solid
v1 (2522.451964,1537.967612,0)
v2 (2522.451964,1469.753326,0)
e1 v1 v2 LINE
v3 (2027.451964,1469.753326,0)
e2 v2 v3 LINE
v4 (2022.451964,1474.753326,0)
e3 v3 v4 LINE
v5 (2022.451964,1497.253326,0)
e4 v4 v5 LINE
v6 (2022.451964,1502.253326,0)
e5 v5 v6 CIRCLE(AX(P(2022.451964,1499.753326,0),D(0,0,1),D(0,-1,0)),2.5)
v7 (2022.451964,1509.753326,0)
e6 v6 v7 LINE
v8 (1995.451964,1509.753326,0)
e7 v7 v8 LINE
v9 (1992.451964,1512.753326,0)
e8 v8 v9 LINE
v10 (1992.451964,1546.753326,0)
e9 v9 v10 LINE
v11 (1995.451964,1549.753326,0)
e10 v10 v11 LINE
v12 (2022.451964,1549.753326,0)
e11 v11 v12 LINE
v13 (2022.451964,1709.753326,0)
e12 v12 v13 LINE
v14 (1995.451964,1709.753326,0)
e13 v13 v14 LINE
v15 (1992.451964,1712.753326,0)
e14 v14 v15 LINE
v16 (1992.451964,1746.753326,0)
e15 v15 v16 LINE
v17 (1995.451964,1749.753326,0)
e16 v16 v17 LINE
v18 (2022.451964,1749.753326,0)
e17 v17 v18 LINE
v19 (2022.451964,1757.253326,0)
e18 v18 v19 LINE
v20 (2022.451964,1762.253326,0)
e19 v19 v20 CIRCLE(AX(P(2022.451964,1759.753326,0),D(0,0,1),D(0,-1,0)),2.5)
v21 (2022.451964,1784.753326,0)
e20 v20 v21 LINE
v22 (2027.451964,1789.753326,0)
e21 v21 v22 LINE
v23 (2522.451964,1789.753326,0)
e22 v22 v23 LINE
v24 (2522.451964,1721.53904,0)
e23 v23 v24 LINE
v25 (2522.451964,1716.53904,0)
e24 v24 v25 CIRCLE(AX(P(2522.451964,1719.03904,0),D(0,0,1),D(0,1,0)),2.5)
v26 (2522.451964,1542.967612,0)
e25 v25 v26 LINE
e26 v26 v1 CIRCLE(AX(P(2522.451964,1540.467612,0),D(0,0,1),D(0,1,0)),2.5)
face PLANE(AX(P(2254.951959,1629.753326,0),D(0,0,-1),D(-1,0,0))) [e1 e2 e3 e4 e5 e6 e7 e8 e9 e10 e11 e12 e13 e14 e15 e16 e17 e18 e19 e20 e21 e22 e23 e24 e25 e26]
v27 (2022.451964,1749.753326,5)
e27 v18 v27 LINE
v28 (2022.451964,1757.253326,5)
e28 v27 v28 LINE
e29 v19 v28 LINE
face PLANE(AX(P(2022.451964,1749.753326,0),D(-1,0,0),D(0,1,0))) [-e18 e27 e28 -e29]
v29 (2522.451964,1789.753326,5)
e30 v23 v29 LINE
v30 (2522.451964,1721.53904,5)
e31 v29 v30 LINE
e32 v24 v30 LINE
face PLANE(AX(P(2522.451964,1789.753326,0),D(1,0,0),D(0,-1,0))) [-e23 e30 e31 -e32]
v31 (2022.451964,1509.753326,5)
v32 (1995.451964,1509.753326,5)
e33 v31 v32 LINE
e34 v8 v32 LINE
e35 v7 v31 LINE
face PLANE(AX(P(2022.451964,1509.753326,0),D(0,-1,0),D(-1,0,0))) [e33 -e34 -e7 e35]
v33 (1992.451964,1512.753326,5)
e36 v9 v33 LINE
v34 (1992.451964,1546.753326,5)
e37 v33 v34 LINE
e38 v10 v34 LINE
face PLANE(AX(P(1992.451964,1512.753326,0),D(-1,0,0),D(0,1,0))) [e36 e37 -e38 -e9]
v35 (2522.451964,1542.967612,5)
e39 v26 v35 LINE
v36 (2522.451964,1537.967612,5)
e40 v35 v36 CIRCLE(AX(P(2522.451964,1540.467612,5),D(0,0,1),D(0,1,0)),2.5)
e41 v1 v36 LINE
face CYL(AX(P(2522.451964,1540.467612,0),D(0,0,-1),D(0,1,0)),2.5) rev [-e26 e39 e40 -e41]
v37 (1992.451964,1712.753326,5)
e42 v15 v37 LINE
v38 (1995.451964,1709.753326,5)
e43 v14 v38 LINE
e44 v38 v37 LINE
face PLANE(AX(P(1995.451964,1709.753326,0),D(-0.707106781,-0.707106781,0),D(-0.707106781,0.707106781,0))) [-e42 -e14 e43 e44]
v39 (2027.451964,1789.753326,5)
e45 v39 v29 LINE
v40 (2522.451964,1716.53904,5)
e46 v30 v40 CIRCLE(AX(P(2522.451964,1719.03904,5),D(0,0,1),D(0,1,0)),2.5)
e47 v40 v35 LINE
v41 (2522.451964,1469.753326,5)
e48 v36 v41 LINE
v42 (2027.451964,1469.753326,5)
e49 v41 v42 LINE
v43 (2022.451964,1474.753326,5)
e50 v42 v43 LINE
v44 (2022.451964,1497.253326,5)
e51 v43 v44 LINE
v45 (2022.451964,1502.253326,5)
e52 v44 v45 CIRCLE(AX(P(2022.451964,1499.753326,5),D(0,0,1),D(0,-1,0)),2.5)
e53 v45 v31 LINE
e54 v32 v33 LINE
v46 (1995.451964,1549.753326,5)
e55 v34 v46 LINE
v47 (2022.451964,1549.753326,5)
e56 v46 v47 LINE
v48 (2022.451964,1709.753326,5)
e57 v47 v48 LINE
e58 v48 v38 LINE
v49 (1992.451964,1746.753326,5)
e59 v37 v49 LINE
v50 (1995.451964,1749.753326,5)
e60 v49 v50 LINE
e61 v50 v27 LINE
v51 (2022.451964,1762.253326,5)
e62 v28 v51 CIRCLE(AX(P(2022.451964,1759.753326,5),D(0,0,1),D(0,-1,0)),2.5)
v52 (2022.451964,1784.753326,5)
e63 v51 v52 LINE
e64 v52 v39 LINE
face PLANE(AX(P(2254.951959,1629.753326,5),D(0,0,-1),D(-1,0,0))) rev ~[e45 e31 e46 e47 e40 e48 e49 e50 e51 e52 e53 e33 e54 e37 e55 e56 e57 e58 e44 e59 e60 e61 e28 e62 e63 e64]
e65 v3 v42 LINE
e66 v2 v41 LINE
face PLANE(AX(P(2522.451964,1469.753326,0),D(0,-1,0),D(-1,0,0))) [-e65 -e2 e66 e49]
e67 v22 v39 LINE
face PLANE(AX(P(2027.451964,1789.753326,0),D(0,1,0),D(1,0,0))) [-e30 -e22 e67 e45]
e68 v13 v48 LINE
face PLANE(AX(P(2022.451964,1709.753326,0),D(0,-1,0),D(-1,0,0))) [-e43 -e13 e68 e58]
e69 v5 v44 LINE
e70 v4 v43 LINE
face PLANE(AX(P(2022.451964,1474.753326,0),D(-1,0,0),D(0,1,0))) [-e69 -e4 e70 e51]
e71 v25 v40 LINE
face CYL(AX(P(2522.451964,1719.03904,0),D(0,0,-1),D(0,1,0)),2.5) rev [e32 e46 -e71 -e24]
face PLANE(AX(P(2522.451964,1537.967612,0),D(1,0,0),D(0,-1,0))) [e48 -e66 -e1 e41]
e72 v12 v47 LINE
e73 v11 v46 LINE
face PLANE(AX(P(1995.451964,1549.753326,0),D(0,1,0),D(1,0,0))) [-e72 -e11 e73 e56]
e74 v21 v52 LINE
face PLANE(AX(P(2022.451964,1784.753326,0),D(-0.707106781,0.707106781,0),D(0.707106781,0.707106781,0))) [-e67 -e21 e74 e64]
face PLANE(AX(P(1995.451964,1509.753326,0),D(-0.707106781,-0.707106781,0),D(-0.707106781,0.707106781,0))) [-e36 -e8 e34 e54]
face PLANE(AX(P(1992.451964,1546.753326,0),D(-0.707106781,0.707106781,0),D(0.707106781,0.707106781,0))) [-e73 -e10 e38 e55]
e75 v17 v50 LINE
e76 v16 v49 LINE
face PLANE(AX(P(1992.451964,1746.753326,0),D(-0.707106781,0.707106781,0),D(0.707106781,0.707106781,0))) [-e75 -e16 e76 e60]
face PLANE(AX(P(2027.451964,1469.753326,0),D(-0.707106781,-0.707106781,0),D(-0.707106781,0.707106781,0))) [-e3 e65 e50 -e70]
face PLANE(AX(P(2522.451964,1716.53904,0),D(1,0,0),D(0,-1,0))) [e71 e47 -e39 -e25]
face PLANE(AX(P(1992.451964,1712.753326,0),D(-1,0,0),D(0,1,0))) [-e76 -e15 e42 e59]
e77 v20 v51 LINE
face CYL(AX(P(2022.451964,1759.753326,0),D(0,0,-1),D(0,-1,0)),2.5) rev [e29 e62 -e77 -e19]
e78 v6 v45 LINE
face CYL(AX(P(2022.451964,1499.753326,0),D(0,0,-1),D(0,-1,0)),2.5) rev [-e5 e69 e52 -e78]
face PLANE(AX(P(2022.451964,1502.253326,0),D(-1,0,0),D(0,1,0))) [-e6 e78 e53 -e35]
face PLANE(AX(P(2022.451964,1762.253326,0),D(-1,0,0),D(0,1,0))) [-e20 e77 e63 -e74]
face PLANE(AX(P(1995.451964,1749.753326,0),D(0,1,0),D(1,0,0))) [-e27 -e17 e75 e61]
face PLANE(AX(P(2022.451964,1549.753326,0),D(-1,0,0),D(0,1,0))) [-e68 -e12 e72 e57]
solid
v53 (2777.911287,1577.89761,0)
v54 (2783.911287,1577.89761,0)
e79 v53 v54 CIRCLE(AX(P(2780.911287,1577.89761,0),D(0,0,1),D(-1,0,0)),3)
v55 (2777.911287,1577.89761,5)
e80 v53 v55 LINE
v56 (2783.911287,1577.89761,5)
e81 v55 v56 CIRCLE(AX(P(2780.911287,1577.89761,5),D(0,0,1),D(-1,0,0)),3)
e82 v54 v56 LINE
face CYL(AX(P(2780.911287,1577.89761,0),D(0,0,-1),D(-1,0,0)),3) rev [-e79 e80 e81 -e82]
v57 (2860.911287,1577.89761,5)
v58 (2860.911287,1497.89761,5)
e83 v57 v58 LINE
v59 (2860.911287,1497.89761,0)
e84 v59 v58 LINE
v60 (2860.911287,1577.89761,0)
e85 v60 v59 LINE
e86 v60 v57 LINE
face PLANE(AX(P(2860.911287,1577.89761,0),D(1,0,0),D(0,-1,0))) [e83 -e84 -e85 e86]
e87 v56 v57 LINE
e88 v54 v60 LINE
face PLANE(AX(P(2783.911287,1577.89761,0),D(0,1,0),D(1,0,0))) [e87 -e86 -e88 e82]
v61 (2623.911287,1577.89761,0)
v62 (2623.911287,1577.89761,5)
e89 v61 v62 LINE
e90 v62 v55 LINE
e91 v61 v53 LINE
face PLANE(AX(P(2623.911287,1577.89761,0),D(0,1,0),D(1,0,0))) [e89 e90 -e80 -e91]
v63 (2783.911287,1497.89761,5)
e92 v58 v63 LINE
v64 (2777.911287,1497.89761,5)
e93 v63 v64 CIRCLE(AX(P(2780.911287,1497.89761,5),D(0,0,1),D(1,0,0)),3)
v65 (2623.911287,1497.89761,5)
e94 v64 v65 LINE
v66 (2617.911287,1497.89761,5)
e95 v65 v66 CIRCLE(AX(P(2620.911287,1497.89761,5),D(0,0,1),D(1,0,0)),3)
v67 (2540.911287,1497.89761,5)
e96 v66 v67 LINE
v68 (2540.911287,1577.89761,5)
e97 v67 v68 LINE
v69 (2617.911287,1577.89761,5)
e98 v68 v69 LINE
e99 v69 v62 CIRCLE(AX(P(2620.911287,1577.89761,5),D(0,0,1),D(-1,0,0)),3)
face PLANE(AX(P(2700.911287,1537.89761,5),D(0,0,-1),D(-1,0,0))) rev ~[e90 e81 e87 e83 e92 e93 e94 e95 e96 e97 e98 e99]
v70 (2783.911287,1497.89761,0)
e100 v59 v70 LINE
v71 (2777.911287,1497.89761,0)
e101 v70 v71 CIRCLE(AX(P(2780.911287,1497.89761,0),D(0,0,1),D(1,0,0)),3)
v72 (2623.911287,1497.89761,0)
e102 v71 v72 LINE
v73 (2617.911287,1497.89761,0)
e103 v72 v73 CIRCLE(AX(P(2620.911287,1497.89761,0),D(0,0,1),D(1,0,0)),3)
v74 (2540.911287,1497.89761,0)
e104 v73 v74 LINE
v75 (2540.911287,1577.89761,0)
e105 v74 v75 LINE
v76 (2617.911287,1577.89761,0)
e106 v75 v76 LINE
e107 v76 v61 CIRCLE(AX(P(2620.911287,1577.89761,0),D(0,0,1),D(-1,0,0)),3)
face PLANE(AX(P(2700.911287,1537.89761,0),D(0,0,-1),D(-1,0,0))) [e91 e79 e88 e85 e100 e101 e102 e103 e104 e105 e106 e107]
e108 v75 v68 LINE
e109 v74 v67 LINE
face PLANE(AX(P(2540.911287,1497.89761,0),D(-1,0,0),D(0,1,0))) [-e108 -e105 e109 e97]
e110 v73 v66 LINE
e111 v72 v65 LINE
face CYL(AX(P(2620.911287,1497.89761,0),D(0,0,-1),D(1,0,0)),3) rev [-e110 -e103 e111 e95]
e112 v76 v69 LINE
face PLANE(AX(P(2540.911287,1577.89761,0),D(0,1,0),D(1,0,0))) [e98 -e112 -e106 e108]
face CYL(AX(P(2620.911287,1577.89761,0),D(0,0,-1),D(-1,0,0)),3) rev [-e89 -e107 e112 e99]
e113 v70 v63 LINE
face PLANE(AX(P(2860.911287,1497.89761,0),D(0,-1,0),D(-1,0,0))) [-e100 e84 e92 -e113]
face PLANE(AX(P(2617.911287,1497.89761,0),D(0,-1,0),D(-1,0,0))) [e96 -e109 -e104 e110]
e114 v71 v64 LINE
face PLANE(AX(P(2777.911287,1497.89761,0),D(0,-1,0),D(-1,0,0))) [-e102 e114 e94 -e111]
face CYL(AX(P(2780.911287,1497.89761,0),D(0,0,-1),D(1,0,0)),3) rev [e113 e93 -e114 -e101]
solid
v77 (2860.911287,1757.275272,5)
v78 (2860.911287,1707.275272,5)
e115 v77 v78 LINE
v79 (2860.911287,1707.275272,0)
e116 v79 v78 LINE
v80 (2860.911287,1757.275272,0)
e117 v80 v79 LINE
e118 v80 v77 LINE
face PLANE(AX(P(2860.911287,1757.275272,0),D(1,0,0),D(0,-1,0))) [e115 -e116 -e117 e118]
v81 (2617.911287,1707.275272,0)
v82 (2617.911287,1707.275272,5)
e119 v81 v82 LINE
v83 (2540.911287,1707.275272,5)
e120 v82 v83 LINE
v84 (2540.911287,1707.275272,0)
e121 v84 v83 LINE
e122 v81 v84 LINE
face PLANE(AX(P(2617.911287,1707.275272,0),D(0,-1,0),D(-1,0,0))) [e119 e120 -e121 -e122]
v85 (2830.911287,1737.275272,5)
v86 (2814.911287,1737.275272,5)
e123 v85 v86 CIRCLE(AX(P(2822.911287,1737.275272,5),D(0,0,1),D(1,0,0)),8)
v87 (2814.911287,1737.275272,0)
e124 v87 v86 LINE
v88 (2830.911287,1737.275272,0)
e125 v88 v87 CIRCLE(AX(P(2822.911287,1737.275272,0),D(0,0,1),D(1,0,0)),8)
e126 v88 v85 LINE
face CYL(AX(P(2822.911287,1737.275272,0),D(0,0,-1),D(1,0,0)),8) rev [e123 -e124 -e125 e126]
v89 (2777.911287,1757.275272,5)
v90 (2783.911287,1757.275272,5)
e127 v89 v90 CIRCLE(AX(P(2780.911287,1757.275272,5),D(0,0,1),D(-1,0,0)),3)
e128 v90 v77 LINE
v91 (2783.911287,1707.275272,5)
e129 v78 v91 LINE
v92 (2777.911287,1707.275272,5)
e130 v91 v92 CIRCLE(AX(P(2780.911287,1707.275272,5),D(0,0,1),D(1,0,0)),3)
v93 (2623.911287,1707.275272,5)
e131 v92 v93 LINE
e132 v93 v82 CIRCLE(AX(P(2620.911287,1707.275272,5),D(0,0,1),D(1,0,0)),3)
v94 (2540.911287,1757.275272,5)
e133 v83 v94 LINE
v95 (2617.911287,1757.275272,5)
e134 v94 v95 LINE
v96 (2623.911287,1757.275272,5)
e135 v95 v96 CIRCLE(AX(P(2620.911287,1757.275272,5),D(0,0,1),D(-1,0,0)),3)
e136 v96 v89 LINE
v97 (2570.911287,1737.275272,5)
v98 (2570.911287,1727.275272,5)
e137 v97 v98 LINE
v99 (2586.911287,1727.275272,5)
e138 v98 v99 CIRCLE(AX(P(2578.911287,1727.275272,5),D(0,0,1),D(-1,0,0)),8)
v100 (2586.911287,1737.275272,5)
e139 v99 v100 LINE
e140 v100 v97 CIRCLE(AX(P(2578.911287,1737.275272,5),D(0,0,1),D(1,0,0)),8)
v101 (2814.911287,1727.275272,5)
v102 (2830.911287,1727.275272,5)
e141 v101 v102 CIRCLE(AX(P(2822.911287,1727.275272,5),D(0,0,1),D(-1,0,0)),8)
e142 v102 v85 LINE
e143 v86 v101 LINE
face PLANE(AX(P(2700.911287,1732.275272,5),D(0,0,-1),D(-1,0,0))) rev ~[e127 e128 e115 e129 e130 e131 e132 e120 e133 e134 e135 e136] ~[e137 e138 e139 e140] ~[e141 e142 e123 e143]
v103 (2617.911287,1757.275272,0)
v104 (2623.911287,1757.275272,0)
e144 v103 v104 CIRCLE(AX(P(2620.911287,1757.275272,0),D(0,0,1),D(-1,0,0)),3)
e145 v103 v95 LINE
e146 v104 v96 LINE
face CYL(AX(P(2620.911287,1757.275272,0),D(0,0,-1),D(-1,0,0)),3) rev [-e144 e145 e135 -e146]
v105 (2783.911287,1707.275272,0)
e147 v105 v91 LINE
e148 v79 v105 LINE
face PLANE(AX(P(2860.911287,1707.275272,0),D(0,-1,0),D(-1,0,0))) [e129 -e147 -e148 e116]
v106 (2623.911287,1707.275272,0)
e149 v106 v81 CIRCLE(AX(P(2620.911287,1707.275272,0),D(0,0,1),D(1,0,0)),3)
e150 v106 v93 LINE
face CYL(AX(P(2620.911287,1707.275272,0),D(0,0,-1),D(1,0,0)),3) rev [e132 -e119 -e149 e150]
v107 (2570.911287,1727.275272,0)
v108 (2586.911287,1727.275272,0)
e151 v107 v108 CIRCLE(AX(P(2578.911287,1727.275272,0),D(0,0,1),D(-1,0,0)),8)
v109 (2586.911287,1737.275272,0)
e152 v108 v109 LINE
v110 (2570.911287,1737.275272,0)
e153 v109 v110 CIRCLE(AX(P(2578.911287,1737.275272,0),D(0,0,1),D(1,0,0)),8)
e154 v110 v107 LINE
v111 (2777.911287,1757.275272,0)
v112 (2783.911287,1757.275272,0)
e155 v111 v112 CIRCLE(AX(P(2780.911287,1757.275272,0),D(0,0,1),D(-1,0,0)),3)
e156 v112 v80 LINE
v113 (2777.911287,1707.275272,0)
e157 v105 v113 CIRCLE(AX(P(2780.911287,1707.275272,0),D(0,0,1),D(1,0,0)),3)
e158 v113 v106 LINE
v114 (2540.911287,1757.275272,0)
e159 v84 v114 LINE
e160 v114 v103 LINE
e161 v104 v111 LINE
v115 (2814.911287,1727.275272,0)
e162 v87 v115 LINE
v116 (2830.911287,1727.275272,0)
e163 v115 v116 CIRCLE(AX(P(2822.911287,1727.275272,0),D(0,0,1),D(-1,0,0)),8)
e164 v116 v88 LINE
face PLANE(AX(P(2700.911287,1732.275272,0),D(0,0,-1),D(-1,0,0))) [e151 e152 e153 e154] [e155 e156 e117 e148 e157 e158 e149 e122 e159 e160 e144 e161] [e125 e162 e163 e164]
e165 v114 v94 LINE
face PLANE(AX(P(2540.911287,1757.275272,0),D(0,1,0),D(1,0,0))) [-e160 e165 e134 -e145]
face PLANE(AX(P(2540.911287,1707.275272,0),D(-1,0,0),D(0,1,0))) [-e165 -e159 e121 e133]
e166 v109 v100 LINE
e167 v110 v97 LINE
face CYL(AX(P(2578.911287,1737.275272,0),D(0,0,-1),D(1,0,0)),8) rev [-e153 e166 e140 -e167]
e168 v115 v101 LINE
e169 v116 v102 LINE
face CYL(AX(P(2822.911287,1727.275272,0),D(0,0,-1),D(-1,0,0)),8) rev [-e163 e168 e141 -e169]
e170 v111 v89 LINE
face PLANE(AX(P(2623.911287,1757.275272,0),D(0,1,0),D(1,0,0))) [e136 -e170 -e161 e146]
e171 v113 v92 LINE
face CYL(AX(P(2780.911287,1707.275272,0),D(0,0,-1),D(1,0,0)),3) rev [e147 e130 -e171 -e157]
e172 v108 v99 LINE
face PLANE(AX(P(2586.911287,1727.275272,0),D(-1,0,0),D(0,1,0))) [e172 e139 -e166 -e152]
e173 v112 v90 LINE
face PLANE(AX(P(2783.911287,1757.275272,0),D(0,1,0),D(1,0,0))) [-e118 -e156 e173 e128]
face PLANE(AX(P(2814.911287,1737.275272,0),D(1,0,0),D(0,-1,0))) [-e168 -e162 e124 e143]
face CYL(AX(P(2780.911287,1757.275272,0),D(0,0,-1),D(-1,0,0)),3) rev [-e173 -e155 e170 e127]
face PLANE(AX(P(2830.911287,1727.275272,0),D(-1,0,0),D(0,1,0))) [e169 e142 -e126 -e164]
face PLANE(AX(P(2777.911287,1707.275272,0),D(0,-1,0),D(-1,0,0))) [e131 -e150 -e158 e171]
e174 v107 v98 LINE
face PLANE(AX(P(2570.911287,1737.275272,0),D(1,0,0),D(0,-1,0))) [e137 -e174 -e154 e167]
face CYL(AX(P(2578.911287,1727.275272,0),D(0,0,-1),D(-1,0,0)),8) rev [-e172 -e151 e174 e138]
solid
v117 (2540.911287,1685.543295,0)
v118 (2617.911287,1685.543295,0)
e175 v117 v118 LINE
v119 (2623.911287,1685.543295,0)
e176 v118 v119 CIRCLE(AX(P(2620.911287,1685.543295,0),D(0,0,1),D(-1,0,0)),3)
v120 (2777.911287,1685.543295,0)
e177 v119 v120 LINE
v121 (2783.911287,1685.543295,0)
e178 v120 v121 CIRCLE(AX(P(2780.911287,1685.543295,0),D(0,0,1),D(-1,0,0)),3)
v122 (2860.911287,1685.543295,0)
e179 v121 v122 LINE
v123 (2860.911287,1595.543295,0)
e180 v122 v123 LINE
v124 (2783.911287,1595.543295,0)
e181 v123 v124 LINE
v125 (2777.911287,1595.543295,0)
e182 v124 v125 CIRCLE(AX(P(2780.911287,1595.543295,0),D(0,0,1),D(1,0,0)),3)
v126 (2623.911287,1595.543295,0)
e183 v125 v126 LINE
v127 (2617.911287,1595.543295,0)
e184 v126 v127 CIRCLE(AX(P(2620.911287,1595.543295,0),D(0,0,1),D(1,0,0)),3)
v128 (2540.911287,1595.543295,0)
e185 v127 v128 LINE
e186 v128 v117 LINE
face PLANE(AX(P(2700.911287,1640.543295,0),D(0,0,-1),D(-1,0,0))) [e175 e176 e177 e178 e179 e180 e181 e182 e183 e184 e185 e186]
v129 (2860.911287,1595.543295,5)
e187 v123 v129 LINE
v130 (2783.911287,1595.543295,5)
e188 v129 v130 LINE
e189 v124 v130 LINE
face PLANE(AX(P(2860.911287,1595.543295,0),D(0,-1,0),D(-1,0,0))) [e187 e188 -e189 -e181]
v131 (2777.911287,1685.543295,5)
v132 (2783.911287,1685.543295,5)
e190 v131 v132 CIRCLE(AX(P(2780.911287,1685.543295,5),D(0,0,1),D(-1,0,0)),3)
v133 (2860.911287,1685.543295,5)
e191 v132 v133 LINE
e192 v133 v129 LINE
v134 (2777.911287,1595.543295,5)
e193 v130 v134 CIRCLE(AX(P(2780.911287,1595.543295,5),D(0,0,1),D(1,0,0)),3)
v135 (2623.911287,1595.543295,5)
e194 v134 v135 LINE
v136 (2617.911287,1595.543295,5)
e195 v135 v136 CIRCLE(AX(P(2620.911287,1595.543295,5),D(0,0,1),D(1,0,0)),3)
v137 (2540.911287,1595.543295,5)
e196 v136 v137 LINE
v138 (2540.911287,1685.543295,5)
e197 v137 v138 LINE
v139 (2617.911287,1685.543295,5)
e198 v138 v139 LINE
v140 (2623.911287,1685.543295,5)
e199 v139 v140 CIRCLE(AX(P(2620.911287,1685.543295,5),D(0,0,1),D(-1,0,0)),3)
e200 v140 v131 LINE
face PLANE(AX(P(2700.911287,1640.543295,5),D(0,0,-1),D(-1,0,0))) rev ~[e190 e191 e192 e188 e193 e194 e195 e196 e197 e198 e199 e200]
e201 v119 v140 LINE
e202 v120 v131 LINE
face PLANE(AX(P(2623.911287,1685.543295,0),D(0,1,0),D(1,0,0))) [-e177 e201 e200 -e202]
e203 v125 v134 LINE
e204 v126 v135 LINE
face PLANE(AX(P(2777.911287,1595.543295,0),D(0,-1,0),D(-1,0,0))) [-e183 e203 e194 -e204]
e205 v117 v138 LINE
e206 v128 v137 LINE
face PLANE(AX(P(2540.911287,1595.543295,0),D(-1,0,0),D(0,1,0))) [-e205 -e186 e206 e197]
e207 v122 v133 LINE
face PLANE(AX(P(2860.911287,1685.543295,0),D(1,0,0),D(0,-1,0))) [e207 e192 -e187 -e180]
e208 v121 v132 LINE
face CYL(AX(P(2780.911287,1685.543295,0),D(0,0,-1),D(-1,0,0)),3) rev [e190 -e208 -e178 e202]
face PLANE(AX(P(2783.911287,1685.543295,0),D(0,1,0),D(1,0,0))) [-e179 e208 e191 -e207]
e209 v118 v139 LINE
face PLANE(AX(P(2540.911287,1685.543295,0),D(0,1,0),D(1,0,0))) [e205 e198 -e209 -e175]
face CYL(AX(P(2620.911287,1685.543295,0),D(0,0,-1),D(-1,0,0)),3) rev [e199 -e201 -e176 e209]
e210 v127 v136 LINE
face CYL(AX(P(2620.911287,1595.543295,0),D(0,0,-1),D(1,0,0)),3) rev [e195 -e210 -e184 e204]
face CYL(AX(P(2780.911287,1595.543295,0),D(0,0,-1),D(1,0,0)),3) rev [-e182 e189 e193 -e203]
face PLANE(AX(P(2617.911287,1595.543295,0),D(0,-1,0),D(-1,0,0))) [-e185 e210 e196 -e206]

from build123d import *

# Parameters (mm, degrees)
Y_KSEKLIK_EKSTR_ZYON1_DEPTH   = 5
Y_KSEKLIK_EKSTR_ZYON1_2_DEPTH = 5
Y_KSEKLIK_EKSTR_ZYON1_3_DEPTH = 5
Y_KSEKLIK_EKSTR_ZYON1_4_DEPTH = 5


with BuildPart() as part:
    # Çizim1 → Yükseklik-Ekstrüzyon1 (new body)
    with BuildSketch(Plane.XY):
        with BuildLine():
            ThreePointArc((2022.451963564, 1497.253325842), (2024.951963564, 1499.753325842), (2022.451963564, 1502.253325842))
            Line((2022.451963564, 1502.253325842), (2022.451963564, 1509.753325842))
            Line((2022.451963564, 1509.753325842), (1995.451963564, 1509.753325842))
            Line((1995.451963564, 1509.753325842), (1992.451963564, 1512.753325842))
            Line((1992.451963564, 1512.753325842), (1992.451963564, 1546.753325842))
            Line((1992.451963564, 1546.753325842), (1995.451963564, 1549.753325842))
            Line((1995.451963564, 1549.753325842), (2022.451963564, 1549.753325842))
            Line((2022.451963564, 1549.753325842), (2022.451963564, 1709.753325842))
            Line((2022.451963564, 1709.753325842), (1995.451963564, 1709.753325842))
            Line((1995.451963564, 1709.753325842), (1992.451963564, 1712.753325842))
            Line((1992.451963564, 1712.753325842), (1992.451963564, 1746.753325842))
            Line((1992.451963564, 1746.753325842), (1995.451963564, 1749.753325842))
            Line((1995.451963564, 1749.753325842), (2022.451963564, 1749.753325842))
            Line((2022.451963564, 1749.753325842), (2022.451963564, 1757.253325842))
            ThreePointArc((2022.451963564, 1757.253325842), (2024.951963564, 1759.753325842), (2022.451963564, 1762.253325842))
            Line((2022.451963564, 1762.253325842), (2022.451963564, 1784.753325842))
            Line((2022.451963564, 1784.753325842), (2027.451963564, 1789.753325842))
            Line((2027.451963564, 1789.753325842), (2522.451963564, 1789.753325842))
            Line((2522.451963564, 1789.753325842), (2522.451963564, 1721.539040128))
            ThreePointArc((2522.451963564, 1721.539040128), (2519.951963564, 1719.039040128), (2522.451963564, 1716.539040128))
            Line((2522.451963564, 1716.539040128), (2522.451963564, 1542.967611556))
            ThreePointArc((2522.451963564, 1542.967611556), (2519.951963564, 1540.467611556), (2522.451963564, 1537.967611556))
            Line((2522.451963564, 1537.967611556), (2522.451963564, 1469.753325842))
            Line((2522.451963564, 1469.753325842), (2027.451963564, 1469.753325842))
            Line((2027.451963564, 1469.753325842), (2022.451963564, 1474.753325842))
            Line((2022.451963564, 1474.753325842), (2022.451963564, 1497.253325842))
        make_face()
    extrude(amount=Y_KSEKLIK_EKSTR_ZYON1_DEPTH)


with BuildPart() as body_2:
    # Çizim1 → Y_kseklik-Ekstr_zyon1 2 (new body)
    with BuildSketch(Plane.XY):
        with BuildLine():
            ThreePointArc((2777.91128682, 1757.275271925), (2780.91128682, 1754.275271925), (2783.91128682, 1757.275271925))
            Line((2783.91128682, 1757.275271925), (2860.91128682, 1757.275271925))
            Line((2860.91128682, 1757.275271925), (2860.91128682, 1707.275271925))
            Line((2860.91128682, 1707.275271925), (2783.91128682, 1707.275271925))
            ThreePointArc((2783.91128682, 1707.275271925), (2780.91128682, 1710.275271925), (2777.91128682, 1707.275271925))
            Line((2777.91128682, 1707.275271925), (2623.91128682, 1707.275271925))
            ThreePointArc((2623.91128682, 1707.275271925), (2620.91128682, 1710.275271925), (2617.91128682, 1707.275271925))
            Line((2617.91128682, 1707.275271925), (2540.91128682, 1707.275271925))
            Line((2540.91128682, 1707.275271925), (2540.91128682, 1757.275271925))
            Line((2540.91128682, 1757.275271925), (2617.91128682, 1757.275271925))
            ThreePointArc((2617.91128682, 1757.275271925), (2620.91128682, 1754.275271925), (2623.91128682, 1757.275271925))
            Line((2623.91128682, 1757.275271925), (2777.91128682, 1757.275271925))
        make_face()
        with BuildLine():
            ThreePointArc((2814.91128682, 1727.275271925), (2822.91128682, 1719.275271925), (2830.91128682, 1727.275271925))
            Line((2830.91128682, 1727.275271925), (2830.91128682, 1737.275271925))
            ThreePointArc((2830.91128682, 1737.275271925), (2822.91128682, 1745.275271925), (2814.91128682, 1737.275271925))
            Line((2814.91128682, 1737.275271925), (2814.91128682, 1727.275271925))
        make_face(mode=Mode.SUBTRACT)
        with BuildLine():
            ThreePointArc((2570.91128682, 1727.275271925), (2578.91128682, 1719.275271925), (2586.91128682, 1727.275271925))
            Line((2586.91128682, 1727.275271925), (2586.91128682, 1737.275271925))
            ThreePointArc((2586.91128682, 1737.275271925), (2578.91128682, 1745.275271925), (2570.91128682, 1737.275271925))
            Line((2570.91128682, 1737.275271925), (2570.91128682, 1727.275271925))
        make_face(mode=Mode.SUBTRACT)
    extrude(amount=Y_KSEKLIK_EKSTR_ZYON1_2_DEPTH)


with BuildPart() as body_3:
    # Çizim1 → Y_kseklik-Ekstr_zyon1 3 (new body)
    with BuildSketch(Plane.XY):
        with BuildLine():
            ThreePointArc((2777.91128682, 1685.543295226), (2780.91128682, 1682.543295226), (2783.91128682, 1685.543295226))
            Line((2783.91128682, 1685.543295226), (2860.91128682, 1685.543295226))
            Line((2860.91128682, 1685.543295226), (2860.91128682, 1595.543295226))
            Line((2860.91128682, 1595.543295226), (2783.91128682, 1595.543295226))
            ThreePointArc((2783.91128682, 1595.543295226), (2780.91128682, 1598.543295226), (2777.91128682, 1595.543295226))
            Line((2777.91128682, 1595.543295226), (2623.91128682, 1595.543295226))
            ThreePointArc((2623.91128682, 1595.543295226), (2620.91128682, 1598.543295226), (2617.91128682, 1595.543295226))
            Line((2617.91128682, 1595.543295226), (2540.91128682, 1595.543295226))
            Line((2540.91128682, 1595.543295226), (2540.91128682, 1685.543295226))
            Line((2540.91128682, 1685.543295226), (2617.91128682, 1685.543295226))
            ThreePointArc((2617.91128682, 1685.543295226), (2620.91128682, 1682.543295226), (2623.91128682, 1685.543295226))
            Line((2623.91128682, 1685.543295226), (2777.91128682, 1685.543295226))
        make_face()
    extrude(amount=Y_KSEKLIK_EKSTR_ZYON1_3_DEPTH)


with BuildPart() as body_4:
    # Çizim1 → Y_kseklik-Ekstr_zyon1 4 (new body)
    with BuildSketch(Plane.XY):
        with BuildLine():
            ThreePointArc((2777.91128682, 1577.897609732), (2780.91128682, 1574.897609732), (2783.91128682, 1577.897609732))
            Line((2783.91128682, 1577.897609732), (2860.91128682, 1577.897609732))
            Line((2860.91128682, 1577.897609732), (2860.91128682, 1497.897609732))
            Line((2860.91128682, 1497.897609732), (2783.91128682, 1497.897609732))
            ThreePointArc((2783.91128682, 1497.897609732), (2780.91128682, 1500.897609732), (2777.91128682, 1497.897609732))
            Line((2777.91128682, 1497.897609732), (2623.91128682, 1497.897609732))
            ThreePointArc((2623.91128682, 1497.897609732), (2620.91128682, 1500.897609732), (2617.91128682, 1497.897609732))
            Line((2617.91128682, 1497.897609732), (2540.91128682, 1497.897609732))
            Line((2540.91128682, 1497.897609732), (2540.91128682, 1577.897609732))
            Line((2540.91128682, 1577.897609732), (2617.91128682, 1577.897609732))
            ThreePointArc((2617.91128682, 1577.897609732), (2620.91128682, 1574.897609732), (2623.91128682, 1577.897609732))
            Line((2623.91128682, 1577.897609732), (2777.91128682, 1577.897609732))
        make_face()
    extrude(amount=Y_KSEKLIK_EKSTR_ZYON1_4_DEPTH)


solid = Compound([part.part, body_2.part, body_3.part, body_4.part])
